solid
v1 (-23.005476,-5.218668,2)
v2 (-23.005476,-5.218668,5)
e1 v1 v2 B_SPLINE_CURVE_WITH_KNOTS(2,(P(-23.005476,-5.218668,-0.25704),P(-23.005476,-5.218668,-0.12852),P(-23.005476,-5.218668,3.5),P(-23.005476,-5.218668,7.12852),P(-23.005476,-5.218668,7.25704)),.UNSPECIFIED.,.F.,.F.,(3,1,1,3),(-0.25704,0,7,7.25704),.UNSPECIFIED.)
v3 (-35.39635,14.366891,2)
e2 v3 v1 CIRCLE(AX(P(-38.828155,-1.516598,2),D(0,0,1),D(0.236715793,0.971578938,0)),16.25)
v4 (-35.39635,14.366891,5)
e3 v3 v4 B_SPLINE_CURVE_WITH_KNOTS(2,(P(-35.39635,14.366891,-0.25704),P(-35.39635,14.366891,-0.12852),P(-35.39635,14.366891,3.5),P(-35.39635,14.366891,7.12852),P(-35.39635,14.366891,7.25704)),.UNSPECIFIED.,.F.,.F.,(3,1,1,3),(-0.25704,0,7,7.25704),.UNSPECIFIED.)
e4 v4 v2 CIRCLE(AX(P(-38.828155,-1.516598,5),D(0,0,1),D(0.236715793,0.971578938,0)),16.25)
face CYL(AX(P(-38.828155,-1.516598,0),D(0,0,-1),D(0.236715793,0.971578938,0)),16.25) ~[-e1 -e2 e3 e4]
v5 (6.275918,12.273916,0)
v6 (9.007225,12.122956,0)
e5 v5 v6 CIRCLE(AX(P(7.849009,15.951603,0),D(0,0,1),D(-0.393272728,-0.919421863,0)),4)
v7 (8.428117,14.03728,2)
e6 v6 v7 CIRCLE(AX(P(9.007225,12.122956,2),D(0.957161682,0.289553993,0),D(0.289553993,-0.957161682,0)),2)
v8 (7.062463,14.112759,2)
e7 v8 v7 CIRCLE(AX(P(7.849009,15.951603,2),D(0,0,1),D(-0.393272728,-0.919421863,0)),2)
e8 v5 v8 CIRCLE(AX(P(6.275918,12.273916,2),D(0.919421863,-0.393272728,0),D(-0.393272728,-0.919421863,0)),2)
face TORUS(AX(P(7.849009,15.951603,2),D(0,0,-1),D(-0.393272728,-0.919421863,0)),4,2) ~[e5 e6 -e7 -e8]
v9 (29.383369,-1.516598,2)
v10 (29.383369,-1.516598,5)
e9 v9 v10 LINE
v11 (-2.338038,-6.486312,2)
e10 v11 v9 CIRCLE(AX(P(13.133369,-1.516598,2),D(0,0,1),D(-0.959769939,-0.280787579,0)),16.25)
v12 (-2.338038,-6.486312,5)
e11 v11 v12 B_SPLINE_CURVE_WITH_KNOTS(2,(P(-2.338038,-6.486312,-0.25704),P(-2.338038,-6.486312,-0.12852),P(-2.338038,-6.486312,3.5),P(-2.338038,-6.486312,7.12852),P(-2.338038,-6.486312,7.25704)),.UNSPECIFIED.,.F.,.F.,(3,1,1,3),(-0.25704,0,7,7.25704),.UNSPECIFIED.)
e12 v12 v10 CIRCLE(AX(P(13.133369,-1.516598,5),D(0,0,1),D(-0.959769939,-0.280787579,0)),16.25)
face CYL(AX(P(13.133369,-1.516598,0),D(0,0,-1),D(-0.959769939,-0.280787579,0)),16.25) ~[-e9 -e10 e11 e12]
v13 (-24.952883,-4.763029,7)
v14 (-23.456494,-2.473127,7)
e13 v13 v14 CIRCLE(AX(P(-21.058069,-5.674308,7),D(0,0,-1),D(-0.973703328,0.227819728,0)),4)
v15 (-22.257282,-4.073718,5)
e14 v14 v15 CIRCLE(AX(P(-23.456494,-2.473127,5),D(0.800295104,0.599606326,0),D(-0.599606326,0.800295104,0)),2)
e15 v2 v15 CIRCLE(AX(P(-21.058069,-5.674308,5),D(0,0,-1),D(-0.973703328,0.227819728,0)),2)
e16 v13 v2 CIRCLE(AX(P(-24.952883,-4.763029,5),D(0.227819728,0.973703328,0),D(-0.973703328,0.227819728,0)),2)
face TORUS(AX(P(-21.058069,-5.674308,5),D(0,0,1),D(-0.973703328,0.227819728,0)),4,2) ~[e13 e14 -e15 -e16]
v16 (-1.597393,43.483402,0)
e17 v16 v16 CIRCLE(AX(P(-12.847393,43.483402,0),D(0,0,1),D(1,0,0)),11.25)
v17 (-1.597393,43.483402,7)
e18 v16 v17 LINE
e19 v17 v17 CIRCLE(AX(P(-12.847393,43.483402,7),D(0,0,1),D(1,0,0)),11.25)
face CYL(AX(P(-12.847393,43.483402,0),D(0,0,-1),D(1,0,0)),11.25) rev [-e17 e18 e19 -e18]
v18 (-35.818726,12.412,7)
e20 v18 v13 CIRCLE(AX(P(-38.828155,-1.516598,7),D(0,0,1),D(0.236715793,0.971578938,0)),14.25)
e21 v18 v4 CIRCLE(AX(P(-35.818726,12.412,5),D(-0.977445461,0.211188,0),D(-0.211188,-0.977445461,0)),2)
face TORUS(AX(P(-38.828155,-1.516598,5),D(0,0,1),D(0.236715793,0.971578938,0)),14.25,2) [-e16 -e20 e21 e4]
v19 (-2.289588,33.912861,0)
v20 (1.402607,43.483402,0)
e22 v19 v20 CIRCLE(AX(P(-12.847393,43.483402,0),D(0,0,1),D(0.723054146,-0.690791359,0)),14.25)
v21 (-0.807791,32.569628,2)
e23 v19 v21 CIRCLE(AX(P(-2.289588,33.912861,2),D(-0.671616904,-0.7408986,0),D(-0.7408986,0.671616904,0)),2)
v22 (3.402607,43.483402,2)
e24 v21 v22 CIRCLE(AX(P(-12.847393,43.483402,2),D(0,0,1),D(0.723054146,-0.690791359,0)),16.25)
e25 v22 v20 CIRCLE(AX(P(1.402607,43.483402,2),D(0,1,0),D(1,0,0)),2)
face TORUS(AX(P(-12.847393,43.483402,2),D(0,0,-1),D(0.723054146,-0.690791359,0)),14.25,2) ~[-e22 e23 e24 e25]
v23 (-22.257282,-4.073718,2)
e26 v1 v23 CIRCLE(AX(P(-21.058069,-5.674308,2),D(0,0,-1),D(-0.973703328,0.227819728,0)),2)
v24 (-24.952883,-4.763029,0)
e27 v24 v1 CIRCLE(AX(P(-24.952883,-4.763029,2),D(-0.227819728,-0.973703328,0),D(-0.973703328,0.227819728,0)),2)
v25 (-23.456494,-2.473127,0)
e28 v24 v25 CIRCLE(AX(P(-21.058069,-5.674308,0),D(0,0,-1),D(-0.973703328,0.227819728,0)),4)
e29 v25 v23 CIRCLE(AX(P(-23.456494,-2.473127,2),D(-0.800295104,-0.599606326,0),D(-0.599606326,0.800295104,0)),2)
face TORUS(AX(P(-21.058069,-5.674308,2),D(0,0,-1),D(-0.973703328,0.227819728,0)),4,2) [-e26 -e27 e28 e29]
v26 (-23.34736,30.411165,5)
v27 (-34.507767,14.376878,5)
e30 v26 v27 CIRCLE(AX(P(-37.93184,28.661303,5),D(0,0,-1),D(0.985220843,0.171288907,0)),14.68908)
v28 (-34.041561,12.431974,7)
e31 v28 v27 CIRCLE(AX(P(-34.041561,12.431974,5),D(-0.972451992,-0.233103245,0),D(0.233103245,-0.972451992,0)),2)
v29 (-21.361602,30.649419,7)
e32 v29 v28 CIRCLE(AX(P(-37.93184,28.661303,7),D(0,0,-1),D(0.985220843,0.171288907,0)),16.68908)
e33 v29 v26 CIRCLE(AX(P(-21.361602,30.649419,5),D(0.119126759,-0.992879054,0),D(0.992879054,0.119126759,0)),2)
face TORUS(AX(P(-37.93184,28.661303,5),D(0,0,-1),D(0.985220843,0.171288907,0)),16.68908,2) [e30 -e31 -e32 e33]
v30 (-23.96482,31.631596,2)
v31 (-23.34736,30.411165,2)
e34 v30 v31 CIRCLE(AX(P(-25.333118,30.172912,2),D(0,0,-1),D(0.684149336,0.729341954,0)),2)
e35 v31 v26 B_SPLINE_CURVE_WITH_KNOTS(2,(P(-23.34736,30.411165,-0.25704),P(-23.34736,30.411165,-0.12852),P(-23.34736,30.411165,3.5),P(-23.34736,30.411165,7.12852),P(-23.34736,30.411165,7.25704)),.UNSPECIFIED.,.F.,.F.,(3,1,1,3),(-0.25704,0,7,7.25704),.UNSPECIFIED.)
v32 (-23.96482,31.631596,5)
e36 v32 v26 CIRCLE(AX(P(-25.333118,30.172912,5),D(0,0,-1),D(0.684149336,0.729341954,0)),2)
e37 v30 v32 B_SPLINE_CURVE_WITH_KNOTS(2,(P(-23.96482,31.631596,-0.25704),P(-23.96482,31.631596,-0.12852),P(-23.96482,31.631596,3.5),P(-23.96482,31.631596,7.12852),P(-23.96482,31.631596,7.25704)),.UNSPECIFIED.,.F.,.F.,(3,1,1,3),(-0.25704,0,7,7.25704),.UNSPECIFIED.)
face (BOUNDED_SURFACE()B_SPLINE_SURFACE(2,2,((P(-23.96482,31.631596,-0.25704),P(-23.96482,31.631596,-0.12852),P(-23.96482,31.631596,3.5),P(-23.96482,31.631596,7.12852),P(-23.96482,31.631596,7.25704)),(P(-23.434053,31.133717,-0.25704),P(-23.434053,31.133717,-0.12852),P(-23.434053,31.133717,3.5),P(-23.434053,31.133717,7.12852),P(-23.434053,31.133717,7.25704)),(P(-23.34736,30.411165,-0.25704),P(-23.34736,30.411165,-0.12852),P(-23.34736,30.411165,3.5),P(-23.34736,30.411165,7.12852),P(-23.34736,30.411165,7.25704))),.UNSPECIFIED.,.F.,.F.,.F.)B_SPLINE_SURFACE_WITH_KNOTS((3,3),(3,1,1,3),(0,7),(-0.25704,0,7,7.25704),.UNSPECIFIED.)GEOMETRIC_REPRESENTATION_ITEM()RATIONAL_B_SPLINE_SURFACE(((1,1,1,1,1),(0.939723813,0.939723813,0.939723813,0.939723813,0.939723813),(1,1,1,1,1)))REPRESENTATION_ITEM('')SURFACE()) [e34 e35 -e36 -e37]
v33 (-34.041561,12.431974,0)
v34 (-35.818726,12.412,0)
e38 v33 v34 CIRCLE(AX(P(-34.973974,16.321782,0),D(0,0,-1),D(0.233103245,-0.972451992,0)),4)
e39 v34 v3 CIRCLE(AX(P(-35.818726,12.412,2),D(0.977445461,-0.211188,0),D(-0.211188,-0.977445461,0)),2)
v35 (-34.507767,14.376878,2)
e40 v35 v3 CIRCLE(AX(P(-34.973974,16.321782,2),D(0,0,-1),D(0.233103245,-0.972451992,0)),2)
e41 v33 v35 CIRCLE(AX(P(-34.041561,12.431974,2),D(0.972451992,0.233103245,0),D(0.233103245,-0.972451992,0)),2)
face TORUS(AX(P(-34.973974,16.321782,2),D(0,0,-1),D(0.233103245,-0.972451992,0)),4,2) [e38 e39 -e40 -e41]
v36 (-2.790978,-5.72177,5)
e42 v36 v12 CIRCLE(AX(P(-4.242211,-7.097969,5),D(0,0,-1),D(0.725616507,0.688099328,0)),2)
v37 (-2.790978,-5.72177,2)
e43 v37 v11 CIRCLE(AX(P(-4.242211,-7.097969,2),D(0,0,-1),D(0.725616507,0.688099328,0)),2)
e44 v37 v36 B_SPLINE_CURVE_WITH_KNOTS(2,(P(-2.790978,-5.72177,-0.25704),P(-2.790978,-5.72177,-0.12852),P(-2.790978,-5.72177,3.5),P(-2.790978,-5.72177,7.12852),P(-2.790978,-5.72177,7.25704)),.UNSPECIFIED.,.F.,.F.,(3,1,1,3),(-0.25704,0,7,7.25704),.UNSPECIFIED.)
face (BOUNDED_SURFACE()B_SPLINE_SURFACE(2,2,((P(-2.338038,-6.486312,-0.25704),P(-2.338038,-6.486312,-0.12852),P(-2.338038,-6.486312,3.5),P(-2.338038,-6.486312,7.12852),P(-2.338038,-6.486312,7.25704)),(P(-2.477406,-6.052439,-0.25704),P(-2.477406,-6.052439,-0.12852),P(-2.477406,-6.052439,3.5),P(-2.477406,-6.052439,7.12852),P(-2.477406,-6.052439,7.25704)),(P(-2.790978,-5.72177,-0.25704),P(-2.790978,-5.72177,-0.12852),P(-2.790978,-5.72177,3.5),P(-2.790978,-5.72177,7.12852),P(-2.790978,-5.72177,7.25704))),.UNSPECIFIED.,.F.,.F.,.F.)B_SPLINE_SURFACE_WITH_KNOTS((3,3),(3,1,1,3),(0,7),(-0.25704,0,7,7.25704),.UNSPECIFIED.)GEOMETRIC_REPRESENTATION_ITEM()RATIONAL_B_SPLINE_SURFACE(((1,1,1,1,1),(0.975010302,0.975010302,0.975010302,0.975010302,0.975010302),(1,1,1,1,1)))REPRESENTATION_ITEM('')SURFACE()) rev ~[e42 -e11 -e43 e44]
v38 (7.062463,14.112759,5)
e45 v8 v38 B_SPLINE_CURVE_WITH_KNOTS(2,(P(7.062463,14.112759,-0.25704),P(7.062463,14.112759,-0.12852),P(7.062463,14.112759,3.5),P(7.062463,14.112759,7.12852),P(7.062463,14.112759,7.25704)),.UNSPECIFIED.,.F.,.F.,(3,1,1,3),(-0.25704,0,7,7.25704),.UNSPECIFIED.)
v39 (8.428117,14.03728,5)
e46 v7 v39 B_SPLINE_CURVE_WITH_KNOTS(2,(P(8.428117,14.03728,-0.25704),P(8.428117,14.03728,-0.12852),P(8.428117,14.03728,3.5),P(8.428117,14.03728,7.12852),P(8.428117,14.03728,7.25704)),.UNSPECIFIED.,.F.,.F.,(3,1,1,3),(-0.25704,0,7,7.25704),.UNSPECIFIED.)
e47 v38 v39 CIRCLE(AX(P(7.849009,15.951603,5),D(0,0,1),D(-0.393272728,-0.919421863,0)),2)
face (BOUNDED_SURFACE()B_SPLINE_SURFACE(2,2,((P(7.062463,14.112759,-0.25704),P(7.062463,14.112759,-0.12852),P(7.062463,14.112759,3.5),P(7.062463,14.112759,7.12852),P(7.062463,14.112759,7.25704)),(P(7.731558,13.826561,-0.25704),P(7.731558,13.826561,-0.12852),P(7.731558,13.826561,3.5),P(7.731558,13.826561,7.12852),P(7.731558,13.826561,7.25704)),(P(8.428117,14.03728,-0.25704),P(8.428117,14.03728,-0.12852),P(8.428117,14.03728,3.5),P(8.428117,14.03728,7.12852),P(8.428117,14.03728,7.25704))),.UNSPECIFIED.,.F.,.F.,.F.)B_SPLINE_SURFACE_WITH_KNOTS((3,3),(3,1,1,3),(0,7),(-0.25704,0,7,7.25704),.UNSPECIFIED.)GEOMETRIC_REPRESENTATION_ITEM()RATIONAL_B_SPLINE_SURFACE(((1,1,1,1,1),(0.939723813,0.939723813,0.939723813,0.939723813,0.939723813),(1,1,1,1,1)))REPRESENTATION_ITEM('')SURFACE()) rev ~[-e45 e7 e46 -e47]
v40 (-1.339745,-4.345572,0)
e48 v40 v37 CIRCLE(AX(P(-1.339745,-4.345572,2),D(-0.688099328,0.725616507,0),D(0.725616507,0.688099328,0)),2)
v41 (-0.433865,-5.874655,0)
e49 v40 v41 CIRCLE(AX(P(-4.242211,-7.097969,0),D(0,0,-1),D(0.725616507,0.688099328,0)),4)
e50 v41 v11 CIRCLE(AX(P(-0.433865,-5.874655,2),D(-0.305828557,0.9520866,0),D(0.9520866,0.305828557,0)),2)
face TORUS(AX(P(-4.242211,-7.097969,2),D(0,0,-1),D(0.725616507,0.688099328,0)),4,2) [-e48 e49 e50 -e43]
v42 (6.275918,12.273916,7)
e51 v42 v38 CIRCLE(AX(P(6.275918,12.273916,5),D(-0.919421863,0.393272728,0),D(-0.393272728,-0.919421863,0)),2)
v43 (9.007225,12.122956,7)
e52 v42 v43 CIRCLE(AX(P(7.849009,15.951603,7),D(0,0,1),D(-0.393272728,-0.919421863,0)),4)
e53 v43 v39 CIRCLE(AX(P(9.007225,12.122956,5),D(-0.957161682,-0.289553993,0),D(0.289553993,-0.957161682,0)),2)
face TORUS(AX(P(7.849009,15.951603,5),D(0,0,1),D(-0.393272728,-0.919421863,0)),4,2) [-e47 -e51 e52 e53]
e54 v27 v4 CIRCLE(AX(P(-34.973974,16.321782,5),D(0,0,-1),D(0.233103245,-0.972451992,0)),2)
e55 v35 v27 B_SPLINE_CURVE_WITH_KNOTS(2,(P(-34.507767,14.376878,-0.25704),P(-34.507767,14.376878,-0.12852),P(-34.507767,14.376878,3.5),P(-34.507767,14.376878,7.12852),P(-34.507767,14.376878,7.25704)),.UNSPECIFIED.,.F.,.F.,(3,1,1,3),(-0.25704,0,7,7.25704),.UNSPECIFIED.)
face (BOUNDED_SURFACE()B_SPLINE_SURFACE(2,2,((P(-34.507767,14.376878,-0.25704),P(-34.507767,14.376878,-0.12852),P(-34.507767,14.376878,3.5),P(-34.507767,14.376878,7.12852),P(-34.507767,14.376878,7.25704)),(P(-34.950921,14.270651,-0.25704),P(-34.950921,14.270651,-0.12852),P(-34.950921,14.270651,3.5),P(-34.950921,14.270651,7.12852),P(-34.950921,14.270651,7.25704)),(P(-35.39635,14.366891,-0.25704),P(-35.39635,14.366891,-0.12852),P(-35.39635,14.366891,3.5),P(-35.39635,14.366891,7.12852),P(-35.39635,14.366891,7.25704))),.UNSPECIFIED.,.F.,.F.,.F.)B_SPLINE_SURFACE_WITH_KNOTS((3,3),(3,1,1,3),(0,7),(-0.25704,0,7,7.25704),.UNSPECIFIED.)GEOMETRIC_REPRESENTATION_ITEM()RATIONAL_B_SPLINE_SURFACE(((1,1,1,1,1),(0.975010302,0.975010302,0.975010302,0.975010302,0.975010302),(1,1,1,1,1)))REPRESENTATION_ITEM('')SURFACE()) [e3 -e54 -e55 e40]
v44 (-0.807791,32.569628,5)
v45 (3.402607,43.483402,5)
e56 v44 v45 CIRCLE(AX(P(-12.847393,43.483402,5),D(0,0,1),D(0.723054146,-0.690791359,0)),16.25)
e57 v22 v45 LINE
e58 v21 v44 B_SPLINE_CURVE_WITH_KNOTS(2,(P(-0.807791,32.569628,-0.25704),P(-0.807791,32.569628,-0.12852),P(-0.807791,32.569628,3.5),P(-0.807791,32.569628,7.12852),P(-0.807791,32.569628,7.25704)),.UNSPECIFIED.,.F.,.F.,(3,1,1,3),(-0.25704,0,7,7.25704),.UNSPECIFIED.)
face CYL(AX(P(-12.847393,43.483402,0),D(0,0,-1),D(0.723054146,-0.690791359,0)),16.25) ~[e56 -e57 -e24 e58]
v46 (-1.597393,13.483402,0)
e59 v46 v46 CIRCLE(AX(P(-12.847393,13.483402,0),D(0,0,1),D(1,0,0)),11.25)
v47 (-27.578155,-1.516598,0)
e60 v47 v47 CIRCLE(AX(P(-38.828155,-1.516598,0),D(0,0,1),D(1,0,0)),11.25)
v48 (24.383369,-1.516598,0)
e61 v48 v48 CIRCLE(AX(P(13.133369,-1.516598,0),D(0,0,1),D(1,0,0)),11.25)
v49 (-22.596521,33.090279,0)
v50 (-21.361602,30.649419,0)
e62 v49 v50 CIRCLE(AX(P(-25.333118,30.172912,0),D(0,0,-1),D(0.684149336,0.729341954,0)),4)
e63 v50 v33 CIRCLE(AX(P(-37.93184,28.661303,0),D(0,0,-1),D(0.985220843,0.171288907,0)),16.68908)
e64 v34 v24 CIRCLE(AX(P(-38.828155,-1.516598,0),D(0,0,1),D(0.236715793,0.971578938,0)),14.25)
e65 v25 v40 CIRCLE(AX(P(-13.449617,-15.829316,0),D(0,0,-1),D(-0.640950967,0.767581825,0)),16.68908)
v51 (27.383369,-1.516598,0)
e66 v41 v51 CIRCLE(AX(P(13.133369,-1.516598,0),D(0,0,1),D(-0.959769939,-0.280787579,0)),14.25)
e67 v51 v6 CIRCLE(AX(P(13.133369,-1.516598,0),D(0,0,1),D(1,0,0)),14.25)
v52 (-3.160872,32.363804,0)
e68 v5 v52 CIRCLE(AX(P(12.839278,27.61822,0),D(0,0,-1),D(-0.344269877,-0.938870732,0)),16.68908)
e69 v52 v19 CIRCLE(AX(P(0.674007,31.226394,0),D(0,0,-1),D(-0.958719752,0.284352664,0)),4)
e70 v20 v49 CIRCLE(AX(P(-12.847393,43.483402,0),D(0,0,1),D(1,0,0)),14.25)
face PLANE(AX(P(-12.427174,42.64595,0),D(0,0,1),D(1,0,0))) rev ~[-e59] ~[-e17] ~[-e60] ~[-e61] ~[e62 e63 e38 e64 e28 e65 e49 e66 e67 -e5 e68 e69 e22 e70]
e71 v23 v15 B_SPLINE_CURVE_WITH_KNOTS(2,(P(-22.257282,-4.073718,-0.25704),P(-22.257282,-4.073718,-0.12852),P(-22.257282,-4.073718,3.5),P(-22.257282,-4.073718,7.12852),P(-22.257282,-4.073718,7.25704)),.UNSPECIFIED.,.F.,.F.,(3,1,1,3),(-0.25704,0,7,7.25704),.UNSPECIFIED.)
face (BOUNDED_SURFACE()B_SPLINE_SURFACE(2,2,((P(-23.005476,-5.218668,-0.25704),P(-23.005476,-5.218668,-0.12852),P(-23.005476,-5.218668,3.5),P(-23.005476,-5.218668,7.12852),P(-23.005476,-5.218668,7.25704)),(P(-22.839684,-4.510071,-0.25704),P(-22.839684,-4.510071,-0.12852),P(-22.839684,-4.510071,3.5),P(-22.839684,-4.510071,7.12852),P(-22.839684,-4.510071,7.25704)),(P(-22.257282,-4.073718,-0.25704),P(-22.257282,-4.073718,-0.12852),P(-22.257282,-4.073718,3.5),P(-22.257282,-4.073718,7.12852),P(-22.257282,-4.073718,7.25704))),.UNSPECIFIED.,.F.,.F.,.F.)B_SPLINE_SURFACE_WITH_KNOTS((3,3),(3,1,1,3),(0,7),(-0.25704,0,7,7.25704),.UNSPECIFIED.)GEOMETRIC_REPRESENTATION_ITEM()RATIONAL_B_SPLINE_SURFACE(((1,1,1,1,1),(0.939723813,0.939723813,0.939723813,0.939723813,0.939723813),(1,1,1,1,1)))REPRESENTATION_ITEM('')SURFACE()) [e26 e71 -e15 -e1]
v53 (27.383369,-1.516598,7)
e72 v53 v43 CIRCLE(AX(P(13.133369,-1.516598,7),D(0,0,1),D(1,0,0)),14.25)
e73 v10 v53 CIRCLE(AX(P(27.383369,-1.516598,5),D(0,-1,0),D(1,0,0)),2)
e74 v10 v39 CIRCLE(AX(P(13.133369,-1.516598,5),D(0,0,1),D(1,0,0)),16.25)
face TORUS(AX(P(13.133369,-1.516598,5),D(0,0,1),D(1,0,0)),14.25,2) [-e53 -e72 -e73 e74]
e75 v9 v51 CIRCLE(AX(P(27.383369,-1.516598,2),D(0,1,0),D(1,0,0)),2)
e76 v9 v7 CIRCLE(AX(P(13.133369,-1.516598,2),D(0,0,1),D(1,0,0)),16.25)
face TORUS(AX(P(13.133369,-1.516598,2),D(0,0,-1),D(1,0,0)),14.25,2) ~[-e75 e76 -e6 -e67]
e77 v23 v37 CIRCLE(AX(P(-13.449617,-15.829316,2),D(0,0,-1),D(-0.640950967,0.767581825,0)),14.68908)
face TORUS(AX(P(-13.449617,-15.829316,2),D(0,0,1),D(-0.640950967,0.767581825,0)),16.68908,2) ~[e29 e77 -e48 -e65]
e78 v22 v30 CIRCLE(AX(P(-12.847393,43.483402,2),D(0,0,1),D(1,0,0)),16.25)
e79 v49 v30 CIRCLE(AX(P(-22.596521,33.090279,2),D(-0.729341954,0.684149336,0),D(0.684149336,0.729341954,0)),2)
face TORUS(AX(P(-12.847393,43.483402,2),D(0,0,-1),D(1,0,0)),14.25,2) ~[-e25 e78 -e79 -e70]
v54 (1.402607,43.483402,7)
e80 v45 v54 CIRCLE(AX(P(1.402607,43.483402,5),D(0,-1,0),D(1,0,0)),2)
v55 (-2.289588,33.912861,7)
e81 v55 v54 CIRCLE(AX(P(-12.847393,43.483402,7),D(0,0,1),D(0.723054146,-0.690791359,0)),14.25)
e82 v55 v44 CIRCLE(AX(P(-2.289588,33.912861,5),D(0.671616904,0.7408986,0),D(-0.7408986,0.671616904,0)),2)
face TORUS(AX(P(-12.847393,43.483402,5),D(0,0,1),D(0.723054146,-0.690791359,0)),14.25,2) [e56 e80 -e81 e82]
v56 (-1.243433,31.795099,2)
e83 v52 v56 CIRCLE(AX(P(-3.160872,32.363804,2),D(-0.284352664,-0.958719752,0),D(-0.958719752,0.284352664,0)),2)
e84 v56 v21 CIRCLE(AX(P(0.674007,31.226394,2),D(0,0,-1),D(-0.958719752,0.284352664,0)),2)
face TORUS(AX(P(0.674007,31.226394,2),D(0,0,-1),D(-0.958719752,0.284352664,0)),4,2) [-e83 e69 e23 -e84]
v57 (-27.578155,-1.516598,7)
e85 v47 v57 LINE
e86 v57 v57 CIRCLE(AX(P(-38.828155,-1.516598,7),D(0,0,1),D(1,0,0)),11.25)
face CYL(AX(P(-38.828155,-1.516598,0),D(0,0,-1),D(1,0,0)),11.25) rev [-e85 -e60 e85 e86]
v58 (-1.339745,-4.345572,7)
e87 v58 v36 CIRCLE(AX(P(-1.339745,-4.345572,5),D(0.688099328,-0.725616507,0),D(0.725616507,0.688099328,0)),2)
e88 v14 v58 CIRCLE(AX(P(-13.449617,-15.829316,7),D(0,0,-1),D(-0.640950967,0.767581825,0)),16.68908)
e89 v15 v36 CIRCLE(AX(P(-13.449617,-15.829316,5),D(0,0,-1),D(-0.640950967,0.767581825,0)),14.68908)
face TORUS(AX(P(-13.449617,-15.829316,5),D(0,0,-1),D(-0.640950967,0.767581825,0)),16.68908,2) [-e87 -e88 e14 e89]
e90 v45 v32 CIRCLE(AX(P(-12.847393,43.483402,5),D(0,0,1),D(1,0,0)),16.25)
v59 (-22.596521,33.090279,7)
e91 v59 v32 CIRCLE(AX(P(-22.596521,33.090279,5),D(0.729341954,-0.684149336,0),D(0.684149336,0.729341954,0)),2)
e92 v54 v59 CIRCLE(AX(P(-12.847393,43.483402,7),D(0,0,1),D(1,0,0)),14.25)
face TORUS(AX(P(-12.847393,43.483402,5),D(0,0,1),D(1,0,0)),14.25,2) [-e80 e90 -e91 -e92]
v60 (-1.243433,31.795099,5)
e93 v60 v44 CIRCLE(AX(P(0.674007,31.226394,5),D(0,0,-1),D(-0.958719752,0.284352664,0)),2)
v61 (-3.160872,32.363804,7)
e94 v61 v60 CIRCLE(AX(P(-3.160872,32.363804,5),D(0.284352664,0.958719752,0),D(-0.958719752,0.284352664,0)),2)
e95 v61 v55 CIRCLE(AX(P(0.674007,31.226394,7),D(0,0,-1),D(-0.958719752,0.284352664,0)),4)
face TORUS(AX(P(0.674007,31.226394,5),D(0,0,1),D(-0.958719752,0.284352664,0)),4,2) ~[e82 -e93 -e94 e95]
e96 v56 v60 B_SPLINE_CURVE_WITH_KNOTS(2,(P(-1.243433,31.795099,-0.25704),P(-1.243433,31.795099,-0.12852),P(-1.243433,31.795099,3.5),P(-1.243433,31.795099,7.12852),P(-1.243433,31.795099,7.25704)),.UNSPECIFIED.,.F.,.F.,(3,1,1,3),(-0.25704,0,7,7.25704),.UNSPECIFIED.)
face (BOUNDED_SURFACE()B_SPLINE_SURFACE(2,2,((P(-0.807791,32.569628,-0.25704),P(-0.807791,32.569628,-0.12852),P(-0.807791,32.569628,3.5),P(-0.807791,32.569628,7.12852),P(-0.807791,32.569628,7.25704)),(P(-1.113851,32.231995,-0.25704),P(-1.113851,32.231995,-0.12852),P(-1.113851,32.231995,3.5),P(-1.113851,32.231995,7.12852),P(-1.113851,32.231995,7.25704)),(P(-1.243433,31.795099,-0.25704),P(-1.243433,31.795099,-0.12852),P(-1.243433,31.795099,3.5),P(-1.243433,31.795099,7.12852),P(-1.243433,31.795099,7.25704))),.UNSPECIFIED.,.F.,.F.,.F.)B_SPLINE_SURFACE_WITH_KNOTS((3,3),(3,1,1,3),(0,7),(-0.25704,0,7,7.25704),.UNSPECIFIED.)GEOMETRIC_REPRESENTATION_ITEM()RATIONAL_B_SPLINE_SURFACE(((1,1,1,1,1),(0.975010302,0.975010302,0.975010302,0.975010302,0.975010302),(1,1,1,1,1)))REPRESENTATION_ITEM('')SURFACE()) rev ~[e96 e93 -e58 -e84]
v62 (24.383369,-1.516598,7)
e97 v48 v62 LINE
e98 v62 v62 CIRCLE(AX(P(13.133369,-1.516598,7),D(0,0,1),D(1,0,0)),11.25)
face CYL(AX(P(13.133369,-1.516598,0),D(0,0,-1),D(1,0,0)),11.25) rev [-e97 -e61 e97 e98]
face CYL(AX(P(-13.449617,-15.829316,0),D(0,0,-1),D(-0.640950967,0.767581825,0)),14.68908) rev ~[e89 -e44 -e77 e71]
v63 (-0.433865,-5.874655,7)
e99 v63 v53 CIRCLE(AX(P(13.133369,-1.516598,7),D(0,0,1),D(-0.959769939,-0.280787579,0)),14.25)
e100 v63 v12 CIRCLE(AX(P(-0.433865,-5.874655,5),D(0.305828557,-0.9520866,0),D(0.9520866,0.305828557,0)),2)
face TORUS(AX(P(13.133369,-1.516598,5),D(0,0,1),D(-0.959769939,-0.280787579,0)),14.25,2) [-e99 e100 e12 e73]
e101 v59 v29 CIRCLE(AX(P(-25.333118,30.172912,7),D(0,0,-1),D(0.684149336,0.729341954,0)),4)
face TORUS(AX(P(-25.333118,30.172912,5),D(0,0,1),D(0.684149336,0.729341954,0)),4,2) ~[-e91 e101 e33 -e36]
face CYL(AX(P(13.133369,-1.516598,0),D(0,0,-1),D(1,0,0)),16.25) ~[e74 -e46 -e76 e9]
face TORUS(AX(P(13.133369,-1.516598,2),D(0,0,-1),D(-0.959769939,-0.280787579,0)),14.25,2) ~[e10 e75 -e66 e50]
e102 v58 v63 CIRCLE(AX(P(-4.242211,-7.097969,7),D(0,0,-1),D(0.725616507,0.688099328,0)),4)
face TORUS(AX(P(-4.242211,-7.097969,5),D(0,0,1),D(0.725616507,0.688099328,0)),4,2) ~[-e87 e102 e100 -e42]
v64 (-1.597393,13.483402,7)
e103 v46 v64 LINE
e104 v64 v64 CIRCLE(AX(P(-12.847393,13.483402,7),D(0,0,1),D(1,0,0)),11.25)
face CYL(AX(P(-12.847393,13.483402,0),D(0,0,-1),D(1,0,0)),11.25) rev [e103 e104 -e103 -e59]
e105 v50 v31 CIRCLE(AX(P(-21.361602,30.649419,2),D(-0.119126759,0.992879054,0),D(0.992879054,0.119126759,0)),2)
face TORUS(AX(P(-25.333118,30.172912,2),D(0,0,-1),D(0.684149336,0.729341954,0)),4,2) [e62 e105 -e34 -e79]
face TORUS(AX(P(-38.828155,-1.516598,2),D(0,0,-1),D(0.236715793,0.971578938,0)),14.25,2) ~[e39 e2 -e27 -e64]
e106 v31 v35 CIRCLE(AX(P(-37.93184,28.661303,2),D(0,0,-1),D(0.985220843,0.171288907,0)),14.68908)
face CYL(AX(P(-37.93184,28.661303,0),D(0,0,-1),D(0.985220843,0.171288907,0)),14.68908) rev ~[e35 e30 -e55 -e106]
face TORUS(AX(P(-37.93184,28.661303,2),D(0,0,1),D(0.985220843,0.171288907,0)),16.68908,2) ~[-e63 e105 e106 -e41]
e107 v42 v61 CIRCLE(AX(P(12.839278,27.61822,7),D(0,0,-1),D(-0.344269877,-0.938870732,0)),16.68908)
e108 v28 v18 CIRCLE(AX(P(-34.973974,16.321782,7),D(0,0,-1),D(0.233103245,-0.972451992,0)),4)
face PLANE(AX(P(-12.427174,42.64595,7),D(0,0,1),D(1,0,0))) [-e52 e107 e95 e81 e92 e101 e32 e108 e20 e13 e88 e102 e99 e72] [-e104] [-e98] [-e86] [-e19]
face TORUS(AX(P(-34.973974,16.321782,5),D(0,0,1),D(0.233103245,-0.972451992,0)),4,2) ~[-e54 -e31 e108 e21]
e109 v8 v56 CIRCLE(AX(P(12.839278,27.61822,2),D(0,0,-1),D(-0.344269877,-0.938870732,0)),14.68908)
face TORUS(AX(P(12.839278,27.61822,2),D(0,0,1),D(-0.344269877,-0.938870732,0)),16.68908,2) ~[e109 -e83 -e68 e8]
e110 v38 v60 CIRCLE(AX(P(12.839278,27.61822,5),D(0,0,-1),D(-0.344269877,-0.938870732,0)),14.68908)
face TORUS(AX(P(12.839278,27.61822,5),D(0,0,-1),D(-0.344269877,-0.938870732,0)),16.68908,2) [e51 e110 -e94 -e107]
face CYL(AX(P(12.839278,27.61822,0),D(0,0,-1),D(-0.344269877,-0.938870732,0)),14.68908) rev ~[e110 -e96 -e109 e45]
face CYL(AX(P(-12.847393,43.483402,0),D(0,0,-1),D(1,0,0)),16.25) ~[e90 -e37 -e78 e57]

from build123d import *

# Parameters (mm, degrees)
F0_R     = 11.25
F1_DEPTH = 7
F2_R     = 2


with BuildPart() as f1:
    # F0 (on Top) → F1 (new body)
    with BuildSketch(Plane.XY):
        with BuildLine():
            ThreePointArc((-1.0977629517, 32.2580427276), (2.2356106171, 37.4364603382), (3.4026071802, 43.4834023193))
            ThreePointArc((3.4026071802, 43.4834023193), (-19.6153332685, 58.2569422499), (-23.4598521532, 31.1773791233))
            ThreePointArc((-23.4598521532, 31.1773791233), (-12.0630155747, 27.2523440562), (-1.0977629517, 32.2580427276))
        make_face()
        with Locations((-12.8473928198, 43.4834023193)):
            Circle(F0_R, mode=Mode.SUBTRACT)
        with BuildLine():
            ThreePointArc((-1.0977629517, 32.2580427276), (-12.0630155747, 27.2523440562), (-23.4598521532, 31.1773791233))
            ThreePointArc((-23.4598521532, 31.1773791233), (-25.7936417608, 20.3888657155), (-34.9815232944, 14.2715600659))
            ThreePointArc((-34.9815232944, 14.2715600659), (-26.0498478441, 8.5221954705), (-22.5781549334, -1.5165976807))
            ThreePointArc((-22.5781549334, -1.5165976807), (-22.6499238252, -3.0421592863), (-22.8645965595, -4.5542454621))
            ThreePointArc((-22.8645965595, -4.5542454621), (-12.3545750753, -1.1811098455), (-2.4628922134, -6.0793958358))
            ThreePointArc((-2.4628922134, -6.0793958358), (-1.3153281149, 5.9196408303), (7.7822702532, 13.8270732965))
            ThreePointArc((7.7822702532, 13.8270732965), (-0.3939616233, 21.2424510878), (-1.0977629517, 32.2580427276))
        make_face()
        with Locations((-12.8473928198, 13.4834023193)):
            Circle(F0_R, mode=Mode.SUBTRACT)
        with BuildLine():
            ThreePointArc((-22.5781549334, -1.5165976807), (-26.0498478441, 8.5221954705), (-34.9815232944, 14.2715600659))
            ThreePointArc((-34.9815232944, 14.2715600659), (-52.4924750969, -10.3114174327), (-22.8645965595, -4.5542454621))
            ThreePointArc((-22.8645965595, -4.5542454621), (-22.6499238252, -3.0421592863), (-22.5781549334, -1.5165976807))
        make_face()
        with Locations((-38.8281549334, -1.5165976807)):
            Circle(F0_R, mode=Mode.SUBTRACT)
        with BuildLine():
            ThreePointArc((29.3833692937, -1.5165976807), (22.5436599532, 11.7313806444), (7.7822702532, 13.8270732965))
            ThreePointArc((7.7822702532, 13.8270732965), (-1.3153281149, 5.9196408303), (-2.4628922134, -6.0793958358))
            ThreePointArc((-2.4628922134, -6.0793958358), (15.4380656414, -17.602332813), (29.3833692937, -1.5165976807))
        make_face()
        with Locations((13.1333692937, -1.5165976807)):
            Circle(F0_R, mode=Mode.SUBTRACT)
    extrude(amount=F1_DEPTH)

    # F2
    f2_edges = [f1.edges().sort_by_distance(p)[0] for p in [
        (7.78227, 13.827073, 3.5),
        (-1.097763, 32.258043, 3.5),
        (-0.393962, 21.242451, 0),
        (-0.393962, 21.242451, 7),
        (-23.459852, 31.177379, 3.5),
        (-13.63177, 59.714461, 0),
        (-13.63177, 59.714461, 7),
        (-34.981523, 14.27156, 3.5),
        (-25.793642, 20.388866, 0),
        (-25.793642, 20.388866, 7),
        (-22.864597, -4.554245, 3.5),
        (-52.492475, -10.311417, 0),
        (-52.492475, -10.311417, 7),
        (-2.462892, -6.079396, 3.5),
        (-12.354575, -1.18111, 0),
        (-12.354575, -1.18111, 7),
        (27.582067, -8.952836, 0),
        (27.582067, -8.952836, 7),
    ]]
    fillet(f2_edges, radius=F2_R)


solid = f1.part
